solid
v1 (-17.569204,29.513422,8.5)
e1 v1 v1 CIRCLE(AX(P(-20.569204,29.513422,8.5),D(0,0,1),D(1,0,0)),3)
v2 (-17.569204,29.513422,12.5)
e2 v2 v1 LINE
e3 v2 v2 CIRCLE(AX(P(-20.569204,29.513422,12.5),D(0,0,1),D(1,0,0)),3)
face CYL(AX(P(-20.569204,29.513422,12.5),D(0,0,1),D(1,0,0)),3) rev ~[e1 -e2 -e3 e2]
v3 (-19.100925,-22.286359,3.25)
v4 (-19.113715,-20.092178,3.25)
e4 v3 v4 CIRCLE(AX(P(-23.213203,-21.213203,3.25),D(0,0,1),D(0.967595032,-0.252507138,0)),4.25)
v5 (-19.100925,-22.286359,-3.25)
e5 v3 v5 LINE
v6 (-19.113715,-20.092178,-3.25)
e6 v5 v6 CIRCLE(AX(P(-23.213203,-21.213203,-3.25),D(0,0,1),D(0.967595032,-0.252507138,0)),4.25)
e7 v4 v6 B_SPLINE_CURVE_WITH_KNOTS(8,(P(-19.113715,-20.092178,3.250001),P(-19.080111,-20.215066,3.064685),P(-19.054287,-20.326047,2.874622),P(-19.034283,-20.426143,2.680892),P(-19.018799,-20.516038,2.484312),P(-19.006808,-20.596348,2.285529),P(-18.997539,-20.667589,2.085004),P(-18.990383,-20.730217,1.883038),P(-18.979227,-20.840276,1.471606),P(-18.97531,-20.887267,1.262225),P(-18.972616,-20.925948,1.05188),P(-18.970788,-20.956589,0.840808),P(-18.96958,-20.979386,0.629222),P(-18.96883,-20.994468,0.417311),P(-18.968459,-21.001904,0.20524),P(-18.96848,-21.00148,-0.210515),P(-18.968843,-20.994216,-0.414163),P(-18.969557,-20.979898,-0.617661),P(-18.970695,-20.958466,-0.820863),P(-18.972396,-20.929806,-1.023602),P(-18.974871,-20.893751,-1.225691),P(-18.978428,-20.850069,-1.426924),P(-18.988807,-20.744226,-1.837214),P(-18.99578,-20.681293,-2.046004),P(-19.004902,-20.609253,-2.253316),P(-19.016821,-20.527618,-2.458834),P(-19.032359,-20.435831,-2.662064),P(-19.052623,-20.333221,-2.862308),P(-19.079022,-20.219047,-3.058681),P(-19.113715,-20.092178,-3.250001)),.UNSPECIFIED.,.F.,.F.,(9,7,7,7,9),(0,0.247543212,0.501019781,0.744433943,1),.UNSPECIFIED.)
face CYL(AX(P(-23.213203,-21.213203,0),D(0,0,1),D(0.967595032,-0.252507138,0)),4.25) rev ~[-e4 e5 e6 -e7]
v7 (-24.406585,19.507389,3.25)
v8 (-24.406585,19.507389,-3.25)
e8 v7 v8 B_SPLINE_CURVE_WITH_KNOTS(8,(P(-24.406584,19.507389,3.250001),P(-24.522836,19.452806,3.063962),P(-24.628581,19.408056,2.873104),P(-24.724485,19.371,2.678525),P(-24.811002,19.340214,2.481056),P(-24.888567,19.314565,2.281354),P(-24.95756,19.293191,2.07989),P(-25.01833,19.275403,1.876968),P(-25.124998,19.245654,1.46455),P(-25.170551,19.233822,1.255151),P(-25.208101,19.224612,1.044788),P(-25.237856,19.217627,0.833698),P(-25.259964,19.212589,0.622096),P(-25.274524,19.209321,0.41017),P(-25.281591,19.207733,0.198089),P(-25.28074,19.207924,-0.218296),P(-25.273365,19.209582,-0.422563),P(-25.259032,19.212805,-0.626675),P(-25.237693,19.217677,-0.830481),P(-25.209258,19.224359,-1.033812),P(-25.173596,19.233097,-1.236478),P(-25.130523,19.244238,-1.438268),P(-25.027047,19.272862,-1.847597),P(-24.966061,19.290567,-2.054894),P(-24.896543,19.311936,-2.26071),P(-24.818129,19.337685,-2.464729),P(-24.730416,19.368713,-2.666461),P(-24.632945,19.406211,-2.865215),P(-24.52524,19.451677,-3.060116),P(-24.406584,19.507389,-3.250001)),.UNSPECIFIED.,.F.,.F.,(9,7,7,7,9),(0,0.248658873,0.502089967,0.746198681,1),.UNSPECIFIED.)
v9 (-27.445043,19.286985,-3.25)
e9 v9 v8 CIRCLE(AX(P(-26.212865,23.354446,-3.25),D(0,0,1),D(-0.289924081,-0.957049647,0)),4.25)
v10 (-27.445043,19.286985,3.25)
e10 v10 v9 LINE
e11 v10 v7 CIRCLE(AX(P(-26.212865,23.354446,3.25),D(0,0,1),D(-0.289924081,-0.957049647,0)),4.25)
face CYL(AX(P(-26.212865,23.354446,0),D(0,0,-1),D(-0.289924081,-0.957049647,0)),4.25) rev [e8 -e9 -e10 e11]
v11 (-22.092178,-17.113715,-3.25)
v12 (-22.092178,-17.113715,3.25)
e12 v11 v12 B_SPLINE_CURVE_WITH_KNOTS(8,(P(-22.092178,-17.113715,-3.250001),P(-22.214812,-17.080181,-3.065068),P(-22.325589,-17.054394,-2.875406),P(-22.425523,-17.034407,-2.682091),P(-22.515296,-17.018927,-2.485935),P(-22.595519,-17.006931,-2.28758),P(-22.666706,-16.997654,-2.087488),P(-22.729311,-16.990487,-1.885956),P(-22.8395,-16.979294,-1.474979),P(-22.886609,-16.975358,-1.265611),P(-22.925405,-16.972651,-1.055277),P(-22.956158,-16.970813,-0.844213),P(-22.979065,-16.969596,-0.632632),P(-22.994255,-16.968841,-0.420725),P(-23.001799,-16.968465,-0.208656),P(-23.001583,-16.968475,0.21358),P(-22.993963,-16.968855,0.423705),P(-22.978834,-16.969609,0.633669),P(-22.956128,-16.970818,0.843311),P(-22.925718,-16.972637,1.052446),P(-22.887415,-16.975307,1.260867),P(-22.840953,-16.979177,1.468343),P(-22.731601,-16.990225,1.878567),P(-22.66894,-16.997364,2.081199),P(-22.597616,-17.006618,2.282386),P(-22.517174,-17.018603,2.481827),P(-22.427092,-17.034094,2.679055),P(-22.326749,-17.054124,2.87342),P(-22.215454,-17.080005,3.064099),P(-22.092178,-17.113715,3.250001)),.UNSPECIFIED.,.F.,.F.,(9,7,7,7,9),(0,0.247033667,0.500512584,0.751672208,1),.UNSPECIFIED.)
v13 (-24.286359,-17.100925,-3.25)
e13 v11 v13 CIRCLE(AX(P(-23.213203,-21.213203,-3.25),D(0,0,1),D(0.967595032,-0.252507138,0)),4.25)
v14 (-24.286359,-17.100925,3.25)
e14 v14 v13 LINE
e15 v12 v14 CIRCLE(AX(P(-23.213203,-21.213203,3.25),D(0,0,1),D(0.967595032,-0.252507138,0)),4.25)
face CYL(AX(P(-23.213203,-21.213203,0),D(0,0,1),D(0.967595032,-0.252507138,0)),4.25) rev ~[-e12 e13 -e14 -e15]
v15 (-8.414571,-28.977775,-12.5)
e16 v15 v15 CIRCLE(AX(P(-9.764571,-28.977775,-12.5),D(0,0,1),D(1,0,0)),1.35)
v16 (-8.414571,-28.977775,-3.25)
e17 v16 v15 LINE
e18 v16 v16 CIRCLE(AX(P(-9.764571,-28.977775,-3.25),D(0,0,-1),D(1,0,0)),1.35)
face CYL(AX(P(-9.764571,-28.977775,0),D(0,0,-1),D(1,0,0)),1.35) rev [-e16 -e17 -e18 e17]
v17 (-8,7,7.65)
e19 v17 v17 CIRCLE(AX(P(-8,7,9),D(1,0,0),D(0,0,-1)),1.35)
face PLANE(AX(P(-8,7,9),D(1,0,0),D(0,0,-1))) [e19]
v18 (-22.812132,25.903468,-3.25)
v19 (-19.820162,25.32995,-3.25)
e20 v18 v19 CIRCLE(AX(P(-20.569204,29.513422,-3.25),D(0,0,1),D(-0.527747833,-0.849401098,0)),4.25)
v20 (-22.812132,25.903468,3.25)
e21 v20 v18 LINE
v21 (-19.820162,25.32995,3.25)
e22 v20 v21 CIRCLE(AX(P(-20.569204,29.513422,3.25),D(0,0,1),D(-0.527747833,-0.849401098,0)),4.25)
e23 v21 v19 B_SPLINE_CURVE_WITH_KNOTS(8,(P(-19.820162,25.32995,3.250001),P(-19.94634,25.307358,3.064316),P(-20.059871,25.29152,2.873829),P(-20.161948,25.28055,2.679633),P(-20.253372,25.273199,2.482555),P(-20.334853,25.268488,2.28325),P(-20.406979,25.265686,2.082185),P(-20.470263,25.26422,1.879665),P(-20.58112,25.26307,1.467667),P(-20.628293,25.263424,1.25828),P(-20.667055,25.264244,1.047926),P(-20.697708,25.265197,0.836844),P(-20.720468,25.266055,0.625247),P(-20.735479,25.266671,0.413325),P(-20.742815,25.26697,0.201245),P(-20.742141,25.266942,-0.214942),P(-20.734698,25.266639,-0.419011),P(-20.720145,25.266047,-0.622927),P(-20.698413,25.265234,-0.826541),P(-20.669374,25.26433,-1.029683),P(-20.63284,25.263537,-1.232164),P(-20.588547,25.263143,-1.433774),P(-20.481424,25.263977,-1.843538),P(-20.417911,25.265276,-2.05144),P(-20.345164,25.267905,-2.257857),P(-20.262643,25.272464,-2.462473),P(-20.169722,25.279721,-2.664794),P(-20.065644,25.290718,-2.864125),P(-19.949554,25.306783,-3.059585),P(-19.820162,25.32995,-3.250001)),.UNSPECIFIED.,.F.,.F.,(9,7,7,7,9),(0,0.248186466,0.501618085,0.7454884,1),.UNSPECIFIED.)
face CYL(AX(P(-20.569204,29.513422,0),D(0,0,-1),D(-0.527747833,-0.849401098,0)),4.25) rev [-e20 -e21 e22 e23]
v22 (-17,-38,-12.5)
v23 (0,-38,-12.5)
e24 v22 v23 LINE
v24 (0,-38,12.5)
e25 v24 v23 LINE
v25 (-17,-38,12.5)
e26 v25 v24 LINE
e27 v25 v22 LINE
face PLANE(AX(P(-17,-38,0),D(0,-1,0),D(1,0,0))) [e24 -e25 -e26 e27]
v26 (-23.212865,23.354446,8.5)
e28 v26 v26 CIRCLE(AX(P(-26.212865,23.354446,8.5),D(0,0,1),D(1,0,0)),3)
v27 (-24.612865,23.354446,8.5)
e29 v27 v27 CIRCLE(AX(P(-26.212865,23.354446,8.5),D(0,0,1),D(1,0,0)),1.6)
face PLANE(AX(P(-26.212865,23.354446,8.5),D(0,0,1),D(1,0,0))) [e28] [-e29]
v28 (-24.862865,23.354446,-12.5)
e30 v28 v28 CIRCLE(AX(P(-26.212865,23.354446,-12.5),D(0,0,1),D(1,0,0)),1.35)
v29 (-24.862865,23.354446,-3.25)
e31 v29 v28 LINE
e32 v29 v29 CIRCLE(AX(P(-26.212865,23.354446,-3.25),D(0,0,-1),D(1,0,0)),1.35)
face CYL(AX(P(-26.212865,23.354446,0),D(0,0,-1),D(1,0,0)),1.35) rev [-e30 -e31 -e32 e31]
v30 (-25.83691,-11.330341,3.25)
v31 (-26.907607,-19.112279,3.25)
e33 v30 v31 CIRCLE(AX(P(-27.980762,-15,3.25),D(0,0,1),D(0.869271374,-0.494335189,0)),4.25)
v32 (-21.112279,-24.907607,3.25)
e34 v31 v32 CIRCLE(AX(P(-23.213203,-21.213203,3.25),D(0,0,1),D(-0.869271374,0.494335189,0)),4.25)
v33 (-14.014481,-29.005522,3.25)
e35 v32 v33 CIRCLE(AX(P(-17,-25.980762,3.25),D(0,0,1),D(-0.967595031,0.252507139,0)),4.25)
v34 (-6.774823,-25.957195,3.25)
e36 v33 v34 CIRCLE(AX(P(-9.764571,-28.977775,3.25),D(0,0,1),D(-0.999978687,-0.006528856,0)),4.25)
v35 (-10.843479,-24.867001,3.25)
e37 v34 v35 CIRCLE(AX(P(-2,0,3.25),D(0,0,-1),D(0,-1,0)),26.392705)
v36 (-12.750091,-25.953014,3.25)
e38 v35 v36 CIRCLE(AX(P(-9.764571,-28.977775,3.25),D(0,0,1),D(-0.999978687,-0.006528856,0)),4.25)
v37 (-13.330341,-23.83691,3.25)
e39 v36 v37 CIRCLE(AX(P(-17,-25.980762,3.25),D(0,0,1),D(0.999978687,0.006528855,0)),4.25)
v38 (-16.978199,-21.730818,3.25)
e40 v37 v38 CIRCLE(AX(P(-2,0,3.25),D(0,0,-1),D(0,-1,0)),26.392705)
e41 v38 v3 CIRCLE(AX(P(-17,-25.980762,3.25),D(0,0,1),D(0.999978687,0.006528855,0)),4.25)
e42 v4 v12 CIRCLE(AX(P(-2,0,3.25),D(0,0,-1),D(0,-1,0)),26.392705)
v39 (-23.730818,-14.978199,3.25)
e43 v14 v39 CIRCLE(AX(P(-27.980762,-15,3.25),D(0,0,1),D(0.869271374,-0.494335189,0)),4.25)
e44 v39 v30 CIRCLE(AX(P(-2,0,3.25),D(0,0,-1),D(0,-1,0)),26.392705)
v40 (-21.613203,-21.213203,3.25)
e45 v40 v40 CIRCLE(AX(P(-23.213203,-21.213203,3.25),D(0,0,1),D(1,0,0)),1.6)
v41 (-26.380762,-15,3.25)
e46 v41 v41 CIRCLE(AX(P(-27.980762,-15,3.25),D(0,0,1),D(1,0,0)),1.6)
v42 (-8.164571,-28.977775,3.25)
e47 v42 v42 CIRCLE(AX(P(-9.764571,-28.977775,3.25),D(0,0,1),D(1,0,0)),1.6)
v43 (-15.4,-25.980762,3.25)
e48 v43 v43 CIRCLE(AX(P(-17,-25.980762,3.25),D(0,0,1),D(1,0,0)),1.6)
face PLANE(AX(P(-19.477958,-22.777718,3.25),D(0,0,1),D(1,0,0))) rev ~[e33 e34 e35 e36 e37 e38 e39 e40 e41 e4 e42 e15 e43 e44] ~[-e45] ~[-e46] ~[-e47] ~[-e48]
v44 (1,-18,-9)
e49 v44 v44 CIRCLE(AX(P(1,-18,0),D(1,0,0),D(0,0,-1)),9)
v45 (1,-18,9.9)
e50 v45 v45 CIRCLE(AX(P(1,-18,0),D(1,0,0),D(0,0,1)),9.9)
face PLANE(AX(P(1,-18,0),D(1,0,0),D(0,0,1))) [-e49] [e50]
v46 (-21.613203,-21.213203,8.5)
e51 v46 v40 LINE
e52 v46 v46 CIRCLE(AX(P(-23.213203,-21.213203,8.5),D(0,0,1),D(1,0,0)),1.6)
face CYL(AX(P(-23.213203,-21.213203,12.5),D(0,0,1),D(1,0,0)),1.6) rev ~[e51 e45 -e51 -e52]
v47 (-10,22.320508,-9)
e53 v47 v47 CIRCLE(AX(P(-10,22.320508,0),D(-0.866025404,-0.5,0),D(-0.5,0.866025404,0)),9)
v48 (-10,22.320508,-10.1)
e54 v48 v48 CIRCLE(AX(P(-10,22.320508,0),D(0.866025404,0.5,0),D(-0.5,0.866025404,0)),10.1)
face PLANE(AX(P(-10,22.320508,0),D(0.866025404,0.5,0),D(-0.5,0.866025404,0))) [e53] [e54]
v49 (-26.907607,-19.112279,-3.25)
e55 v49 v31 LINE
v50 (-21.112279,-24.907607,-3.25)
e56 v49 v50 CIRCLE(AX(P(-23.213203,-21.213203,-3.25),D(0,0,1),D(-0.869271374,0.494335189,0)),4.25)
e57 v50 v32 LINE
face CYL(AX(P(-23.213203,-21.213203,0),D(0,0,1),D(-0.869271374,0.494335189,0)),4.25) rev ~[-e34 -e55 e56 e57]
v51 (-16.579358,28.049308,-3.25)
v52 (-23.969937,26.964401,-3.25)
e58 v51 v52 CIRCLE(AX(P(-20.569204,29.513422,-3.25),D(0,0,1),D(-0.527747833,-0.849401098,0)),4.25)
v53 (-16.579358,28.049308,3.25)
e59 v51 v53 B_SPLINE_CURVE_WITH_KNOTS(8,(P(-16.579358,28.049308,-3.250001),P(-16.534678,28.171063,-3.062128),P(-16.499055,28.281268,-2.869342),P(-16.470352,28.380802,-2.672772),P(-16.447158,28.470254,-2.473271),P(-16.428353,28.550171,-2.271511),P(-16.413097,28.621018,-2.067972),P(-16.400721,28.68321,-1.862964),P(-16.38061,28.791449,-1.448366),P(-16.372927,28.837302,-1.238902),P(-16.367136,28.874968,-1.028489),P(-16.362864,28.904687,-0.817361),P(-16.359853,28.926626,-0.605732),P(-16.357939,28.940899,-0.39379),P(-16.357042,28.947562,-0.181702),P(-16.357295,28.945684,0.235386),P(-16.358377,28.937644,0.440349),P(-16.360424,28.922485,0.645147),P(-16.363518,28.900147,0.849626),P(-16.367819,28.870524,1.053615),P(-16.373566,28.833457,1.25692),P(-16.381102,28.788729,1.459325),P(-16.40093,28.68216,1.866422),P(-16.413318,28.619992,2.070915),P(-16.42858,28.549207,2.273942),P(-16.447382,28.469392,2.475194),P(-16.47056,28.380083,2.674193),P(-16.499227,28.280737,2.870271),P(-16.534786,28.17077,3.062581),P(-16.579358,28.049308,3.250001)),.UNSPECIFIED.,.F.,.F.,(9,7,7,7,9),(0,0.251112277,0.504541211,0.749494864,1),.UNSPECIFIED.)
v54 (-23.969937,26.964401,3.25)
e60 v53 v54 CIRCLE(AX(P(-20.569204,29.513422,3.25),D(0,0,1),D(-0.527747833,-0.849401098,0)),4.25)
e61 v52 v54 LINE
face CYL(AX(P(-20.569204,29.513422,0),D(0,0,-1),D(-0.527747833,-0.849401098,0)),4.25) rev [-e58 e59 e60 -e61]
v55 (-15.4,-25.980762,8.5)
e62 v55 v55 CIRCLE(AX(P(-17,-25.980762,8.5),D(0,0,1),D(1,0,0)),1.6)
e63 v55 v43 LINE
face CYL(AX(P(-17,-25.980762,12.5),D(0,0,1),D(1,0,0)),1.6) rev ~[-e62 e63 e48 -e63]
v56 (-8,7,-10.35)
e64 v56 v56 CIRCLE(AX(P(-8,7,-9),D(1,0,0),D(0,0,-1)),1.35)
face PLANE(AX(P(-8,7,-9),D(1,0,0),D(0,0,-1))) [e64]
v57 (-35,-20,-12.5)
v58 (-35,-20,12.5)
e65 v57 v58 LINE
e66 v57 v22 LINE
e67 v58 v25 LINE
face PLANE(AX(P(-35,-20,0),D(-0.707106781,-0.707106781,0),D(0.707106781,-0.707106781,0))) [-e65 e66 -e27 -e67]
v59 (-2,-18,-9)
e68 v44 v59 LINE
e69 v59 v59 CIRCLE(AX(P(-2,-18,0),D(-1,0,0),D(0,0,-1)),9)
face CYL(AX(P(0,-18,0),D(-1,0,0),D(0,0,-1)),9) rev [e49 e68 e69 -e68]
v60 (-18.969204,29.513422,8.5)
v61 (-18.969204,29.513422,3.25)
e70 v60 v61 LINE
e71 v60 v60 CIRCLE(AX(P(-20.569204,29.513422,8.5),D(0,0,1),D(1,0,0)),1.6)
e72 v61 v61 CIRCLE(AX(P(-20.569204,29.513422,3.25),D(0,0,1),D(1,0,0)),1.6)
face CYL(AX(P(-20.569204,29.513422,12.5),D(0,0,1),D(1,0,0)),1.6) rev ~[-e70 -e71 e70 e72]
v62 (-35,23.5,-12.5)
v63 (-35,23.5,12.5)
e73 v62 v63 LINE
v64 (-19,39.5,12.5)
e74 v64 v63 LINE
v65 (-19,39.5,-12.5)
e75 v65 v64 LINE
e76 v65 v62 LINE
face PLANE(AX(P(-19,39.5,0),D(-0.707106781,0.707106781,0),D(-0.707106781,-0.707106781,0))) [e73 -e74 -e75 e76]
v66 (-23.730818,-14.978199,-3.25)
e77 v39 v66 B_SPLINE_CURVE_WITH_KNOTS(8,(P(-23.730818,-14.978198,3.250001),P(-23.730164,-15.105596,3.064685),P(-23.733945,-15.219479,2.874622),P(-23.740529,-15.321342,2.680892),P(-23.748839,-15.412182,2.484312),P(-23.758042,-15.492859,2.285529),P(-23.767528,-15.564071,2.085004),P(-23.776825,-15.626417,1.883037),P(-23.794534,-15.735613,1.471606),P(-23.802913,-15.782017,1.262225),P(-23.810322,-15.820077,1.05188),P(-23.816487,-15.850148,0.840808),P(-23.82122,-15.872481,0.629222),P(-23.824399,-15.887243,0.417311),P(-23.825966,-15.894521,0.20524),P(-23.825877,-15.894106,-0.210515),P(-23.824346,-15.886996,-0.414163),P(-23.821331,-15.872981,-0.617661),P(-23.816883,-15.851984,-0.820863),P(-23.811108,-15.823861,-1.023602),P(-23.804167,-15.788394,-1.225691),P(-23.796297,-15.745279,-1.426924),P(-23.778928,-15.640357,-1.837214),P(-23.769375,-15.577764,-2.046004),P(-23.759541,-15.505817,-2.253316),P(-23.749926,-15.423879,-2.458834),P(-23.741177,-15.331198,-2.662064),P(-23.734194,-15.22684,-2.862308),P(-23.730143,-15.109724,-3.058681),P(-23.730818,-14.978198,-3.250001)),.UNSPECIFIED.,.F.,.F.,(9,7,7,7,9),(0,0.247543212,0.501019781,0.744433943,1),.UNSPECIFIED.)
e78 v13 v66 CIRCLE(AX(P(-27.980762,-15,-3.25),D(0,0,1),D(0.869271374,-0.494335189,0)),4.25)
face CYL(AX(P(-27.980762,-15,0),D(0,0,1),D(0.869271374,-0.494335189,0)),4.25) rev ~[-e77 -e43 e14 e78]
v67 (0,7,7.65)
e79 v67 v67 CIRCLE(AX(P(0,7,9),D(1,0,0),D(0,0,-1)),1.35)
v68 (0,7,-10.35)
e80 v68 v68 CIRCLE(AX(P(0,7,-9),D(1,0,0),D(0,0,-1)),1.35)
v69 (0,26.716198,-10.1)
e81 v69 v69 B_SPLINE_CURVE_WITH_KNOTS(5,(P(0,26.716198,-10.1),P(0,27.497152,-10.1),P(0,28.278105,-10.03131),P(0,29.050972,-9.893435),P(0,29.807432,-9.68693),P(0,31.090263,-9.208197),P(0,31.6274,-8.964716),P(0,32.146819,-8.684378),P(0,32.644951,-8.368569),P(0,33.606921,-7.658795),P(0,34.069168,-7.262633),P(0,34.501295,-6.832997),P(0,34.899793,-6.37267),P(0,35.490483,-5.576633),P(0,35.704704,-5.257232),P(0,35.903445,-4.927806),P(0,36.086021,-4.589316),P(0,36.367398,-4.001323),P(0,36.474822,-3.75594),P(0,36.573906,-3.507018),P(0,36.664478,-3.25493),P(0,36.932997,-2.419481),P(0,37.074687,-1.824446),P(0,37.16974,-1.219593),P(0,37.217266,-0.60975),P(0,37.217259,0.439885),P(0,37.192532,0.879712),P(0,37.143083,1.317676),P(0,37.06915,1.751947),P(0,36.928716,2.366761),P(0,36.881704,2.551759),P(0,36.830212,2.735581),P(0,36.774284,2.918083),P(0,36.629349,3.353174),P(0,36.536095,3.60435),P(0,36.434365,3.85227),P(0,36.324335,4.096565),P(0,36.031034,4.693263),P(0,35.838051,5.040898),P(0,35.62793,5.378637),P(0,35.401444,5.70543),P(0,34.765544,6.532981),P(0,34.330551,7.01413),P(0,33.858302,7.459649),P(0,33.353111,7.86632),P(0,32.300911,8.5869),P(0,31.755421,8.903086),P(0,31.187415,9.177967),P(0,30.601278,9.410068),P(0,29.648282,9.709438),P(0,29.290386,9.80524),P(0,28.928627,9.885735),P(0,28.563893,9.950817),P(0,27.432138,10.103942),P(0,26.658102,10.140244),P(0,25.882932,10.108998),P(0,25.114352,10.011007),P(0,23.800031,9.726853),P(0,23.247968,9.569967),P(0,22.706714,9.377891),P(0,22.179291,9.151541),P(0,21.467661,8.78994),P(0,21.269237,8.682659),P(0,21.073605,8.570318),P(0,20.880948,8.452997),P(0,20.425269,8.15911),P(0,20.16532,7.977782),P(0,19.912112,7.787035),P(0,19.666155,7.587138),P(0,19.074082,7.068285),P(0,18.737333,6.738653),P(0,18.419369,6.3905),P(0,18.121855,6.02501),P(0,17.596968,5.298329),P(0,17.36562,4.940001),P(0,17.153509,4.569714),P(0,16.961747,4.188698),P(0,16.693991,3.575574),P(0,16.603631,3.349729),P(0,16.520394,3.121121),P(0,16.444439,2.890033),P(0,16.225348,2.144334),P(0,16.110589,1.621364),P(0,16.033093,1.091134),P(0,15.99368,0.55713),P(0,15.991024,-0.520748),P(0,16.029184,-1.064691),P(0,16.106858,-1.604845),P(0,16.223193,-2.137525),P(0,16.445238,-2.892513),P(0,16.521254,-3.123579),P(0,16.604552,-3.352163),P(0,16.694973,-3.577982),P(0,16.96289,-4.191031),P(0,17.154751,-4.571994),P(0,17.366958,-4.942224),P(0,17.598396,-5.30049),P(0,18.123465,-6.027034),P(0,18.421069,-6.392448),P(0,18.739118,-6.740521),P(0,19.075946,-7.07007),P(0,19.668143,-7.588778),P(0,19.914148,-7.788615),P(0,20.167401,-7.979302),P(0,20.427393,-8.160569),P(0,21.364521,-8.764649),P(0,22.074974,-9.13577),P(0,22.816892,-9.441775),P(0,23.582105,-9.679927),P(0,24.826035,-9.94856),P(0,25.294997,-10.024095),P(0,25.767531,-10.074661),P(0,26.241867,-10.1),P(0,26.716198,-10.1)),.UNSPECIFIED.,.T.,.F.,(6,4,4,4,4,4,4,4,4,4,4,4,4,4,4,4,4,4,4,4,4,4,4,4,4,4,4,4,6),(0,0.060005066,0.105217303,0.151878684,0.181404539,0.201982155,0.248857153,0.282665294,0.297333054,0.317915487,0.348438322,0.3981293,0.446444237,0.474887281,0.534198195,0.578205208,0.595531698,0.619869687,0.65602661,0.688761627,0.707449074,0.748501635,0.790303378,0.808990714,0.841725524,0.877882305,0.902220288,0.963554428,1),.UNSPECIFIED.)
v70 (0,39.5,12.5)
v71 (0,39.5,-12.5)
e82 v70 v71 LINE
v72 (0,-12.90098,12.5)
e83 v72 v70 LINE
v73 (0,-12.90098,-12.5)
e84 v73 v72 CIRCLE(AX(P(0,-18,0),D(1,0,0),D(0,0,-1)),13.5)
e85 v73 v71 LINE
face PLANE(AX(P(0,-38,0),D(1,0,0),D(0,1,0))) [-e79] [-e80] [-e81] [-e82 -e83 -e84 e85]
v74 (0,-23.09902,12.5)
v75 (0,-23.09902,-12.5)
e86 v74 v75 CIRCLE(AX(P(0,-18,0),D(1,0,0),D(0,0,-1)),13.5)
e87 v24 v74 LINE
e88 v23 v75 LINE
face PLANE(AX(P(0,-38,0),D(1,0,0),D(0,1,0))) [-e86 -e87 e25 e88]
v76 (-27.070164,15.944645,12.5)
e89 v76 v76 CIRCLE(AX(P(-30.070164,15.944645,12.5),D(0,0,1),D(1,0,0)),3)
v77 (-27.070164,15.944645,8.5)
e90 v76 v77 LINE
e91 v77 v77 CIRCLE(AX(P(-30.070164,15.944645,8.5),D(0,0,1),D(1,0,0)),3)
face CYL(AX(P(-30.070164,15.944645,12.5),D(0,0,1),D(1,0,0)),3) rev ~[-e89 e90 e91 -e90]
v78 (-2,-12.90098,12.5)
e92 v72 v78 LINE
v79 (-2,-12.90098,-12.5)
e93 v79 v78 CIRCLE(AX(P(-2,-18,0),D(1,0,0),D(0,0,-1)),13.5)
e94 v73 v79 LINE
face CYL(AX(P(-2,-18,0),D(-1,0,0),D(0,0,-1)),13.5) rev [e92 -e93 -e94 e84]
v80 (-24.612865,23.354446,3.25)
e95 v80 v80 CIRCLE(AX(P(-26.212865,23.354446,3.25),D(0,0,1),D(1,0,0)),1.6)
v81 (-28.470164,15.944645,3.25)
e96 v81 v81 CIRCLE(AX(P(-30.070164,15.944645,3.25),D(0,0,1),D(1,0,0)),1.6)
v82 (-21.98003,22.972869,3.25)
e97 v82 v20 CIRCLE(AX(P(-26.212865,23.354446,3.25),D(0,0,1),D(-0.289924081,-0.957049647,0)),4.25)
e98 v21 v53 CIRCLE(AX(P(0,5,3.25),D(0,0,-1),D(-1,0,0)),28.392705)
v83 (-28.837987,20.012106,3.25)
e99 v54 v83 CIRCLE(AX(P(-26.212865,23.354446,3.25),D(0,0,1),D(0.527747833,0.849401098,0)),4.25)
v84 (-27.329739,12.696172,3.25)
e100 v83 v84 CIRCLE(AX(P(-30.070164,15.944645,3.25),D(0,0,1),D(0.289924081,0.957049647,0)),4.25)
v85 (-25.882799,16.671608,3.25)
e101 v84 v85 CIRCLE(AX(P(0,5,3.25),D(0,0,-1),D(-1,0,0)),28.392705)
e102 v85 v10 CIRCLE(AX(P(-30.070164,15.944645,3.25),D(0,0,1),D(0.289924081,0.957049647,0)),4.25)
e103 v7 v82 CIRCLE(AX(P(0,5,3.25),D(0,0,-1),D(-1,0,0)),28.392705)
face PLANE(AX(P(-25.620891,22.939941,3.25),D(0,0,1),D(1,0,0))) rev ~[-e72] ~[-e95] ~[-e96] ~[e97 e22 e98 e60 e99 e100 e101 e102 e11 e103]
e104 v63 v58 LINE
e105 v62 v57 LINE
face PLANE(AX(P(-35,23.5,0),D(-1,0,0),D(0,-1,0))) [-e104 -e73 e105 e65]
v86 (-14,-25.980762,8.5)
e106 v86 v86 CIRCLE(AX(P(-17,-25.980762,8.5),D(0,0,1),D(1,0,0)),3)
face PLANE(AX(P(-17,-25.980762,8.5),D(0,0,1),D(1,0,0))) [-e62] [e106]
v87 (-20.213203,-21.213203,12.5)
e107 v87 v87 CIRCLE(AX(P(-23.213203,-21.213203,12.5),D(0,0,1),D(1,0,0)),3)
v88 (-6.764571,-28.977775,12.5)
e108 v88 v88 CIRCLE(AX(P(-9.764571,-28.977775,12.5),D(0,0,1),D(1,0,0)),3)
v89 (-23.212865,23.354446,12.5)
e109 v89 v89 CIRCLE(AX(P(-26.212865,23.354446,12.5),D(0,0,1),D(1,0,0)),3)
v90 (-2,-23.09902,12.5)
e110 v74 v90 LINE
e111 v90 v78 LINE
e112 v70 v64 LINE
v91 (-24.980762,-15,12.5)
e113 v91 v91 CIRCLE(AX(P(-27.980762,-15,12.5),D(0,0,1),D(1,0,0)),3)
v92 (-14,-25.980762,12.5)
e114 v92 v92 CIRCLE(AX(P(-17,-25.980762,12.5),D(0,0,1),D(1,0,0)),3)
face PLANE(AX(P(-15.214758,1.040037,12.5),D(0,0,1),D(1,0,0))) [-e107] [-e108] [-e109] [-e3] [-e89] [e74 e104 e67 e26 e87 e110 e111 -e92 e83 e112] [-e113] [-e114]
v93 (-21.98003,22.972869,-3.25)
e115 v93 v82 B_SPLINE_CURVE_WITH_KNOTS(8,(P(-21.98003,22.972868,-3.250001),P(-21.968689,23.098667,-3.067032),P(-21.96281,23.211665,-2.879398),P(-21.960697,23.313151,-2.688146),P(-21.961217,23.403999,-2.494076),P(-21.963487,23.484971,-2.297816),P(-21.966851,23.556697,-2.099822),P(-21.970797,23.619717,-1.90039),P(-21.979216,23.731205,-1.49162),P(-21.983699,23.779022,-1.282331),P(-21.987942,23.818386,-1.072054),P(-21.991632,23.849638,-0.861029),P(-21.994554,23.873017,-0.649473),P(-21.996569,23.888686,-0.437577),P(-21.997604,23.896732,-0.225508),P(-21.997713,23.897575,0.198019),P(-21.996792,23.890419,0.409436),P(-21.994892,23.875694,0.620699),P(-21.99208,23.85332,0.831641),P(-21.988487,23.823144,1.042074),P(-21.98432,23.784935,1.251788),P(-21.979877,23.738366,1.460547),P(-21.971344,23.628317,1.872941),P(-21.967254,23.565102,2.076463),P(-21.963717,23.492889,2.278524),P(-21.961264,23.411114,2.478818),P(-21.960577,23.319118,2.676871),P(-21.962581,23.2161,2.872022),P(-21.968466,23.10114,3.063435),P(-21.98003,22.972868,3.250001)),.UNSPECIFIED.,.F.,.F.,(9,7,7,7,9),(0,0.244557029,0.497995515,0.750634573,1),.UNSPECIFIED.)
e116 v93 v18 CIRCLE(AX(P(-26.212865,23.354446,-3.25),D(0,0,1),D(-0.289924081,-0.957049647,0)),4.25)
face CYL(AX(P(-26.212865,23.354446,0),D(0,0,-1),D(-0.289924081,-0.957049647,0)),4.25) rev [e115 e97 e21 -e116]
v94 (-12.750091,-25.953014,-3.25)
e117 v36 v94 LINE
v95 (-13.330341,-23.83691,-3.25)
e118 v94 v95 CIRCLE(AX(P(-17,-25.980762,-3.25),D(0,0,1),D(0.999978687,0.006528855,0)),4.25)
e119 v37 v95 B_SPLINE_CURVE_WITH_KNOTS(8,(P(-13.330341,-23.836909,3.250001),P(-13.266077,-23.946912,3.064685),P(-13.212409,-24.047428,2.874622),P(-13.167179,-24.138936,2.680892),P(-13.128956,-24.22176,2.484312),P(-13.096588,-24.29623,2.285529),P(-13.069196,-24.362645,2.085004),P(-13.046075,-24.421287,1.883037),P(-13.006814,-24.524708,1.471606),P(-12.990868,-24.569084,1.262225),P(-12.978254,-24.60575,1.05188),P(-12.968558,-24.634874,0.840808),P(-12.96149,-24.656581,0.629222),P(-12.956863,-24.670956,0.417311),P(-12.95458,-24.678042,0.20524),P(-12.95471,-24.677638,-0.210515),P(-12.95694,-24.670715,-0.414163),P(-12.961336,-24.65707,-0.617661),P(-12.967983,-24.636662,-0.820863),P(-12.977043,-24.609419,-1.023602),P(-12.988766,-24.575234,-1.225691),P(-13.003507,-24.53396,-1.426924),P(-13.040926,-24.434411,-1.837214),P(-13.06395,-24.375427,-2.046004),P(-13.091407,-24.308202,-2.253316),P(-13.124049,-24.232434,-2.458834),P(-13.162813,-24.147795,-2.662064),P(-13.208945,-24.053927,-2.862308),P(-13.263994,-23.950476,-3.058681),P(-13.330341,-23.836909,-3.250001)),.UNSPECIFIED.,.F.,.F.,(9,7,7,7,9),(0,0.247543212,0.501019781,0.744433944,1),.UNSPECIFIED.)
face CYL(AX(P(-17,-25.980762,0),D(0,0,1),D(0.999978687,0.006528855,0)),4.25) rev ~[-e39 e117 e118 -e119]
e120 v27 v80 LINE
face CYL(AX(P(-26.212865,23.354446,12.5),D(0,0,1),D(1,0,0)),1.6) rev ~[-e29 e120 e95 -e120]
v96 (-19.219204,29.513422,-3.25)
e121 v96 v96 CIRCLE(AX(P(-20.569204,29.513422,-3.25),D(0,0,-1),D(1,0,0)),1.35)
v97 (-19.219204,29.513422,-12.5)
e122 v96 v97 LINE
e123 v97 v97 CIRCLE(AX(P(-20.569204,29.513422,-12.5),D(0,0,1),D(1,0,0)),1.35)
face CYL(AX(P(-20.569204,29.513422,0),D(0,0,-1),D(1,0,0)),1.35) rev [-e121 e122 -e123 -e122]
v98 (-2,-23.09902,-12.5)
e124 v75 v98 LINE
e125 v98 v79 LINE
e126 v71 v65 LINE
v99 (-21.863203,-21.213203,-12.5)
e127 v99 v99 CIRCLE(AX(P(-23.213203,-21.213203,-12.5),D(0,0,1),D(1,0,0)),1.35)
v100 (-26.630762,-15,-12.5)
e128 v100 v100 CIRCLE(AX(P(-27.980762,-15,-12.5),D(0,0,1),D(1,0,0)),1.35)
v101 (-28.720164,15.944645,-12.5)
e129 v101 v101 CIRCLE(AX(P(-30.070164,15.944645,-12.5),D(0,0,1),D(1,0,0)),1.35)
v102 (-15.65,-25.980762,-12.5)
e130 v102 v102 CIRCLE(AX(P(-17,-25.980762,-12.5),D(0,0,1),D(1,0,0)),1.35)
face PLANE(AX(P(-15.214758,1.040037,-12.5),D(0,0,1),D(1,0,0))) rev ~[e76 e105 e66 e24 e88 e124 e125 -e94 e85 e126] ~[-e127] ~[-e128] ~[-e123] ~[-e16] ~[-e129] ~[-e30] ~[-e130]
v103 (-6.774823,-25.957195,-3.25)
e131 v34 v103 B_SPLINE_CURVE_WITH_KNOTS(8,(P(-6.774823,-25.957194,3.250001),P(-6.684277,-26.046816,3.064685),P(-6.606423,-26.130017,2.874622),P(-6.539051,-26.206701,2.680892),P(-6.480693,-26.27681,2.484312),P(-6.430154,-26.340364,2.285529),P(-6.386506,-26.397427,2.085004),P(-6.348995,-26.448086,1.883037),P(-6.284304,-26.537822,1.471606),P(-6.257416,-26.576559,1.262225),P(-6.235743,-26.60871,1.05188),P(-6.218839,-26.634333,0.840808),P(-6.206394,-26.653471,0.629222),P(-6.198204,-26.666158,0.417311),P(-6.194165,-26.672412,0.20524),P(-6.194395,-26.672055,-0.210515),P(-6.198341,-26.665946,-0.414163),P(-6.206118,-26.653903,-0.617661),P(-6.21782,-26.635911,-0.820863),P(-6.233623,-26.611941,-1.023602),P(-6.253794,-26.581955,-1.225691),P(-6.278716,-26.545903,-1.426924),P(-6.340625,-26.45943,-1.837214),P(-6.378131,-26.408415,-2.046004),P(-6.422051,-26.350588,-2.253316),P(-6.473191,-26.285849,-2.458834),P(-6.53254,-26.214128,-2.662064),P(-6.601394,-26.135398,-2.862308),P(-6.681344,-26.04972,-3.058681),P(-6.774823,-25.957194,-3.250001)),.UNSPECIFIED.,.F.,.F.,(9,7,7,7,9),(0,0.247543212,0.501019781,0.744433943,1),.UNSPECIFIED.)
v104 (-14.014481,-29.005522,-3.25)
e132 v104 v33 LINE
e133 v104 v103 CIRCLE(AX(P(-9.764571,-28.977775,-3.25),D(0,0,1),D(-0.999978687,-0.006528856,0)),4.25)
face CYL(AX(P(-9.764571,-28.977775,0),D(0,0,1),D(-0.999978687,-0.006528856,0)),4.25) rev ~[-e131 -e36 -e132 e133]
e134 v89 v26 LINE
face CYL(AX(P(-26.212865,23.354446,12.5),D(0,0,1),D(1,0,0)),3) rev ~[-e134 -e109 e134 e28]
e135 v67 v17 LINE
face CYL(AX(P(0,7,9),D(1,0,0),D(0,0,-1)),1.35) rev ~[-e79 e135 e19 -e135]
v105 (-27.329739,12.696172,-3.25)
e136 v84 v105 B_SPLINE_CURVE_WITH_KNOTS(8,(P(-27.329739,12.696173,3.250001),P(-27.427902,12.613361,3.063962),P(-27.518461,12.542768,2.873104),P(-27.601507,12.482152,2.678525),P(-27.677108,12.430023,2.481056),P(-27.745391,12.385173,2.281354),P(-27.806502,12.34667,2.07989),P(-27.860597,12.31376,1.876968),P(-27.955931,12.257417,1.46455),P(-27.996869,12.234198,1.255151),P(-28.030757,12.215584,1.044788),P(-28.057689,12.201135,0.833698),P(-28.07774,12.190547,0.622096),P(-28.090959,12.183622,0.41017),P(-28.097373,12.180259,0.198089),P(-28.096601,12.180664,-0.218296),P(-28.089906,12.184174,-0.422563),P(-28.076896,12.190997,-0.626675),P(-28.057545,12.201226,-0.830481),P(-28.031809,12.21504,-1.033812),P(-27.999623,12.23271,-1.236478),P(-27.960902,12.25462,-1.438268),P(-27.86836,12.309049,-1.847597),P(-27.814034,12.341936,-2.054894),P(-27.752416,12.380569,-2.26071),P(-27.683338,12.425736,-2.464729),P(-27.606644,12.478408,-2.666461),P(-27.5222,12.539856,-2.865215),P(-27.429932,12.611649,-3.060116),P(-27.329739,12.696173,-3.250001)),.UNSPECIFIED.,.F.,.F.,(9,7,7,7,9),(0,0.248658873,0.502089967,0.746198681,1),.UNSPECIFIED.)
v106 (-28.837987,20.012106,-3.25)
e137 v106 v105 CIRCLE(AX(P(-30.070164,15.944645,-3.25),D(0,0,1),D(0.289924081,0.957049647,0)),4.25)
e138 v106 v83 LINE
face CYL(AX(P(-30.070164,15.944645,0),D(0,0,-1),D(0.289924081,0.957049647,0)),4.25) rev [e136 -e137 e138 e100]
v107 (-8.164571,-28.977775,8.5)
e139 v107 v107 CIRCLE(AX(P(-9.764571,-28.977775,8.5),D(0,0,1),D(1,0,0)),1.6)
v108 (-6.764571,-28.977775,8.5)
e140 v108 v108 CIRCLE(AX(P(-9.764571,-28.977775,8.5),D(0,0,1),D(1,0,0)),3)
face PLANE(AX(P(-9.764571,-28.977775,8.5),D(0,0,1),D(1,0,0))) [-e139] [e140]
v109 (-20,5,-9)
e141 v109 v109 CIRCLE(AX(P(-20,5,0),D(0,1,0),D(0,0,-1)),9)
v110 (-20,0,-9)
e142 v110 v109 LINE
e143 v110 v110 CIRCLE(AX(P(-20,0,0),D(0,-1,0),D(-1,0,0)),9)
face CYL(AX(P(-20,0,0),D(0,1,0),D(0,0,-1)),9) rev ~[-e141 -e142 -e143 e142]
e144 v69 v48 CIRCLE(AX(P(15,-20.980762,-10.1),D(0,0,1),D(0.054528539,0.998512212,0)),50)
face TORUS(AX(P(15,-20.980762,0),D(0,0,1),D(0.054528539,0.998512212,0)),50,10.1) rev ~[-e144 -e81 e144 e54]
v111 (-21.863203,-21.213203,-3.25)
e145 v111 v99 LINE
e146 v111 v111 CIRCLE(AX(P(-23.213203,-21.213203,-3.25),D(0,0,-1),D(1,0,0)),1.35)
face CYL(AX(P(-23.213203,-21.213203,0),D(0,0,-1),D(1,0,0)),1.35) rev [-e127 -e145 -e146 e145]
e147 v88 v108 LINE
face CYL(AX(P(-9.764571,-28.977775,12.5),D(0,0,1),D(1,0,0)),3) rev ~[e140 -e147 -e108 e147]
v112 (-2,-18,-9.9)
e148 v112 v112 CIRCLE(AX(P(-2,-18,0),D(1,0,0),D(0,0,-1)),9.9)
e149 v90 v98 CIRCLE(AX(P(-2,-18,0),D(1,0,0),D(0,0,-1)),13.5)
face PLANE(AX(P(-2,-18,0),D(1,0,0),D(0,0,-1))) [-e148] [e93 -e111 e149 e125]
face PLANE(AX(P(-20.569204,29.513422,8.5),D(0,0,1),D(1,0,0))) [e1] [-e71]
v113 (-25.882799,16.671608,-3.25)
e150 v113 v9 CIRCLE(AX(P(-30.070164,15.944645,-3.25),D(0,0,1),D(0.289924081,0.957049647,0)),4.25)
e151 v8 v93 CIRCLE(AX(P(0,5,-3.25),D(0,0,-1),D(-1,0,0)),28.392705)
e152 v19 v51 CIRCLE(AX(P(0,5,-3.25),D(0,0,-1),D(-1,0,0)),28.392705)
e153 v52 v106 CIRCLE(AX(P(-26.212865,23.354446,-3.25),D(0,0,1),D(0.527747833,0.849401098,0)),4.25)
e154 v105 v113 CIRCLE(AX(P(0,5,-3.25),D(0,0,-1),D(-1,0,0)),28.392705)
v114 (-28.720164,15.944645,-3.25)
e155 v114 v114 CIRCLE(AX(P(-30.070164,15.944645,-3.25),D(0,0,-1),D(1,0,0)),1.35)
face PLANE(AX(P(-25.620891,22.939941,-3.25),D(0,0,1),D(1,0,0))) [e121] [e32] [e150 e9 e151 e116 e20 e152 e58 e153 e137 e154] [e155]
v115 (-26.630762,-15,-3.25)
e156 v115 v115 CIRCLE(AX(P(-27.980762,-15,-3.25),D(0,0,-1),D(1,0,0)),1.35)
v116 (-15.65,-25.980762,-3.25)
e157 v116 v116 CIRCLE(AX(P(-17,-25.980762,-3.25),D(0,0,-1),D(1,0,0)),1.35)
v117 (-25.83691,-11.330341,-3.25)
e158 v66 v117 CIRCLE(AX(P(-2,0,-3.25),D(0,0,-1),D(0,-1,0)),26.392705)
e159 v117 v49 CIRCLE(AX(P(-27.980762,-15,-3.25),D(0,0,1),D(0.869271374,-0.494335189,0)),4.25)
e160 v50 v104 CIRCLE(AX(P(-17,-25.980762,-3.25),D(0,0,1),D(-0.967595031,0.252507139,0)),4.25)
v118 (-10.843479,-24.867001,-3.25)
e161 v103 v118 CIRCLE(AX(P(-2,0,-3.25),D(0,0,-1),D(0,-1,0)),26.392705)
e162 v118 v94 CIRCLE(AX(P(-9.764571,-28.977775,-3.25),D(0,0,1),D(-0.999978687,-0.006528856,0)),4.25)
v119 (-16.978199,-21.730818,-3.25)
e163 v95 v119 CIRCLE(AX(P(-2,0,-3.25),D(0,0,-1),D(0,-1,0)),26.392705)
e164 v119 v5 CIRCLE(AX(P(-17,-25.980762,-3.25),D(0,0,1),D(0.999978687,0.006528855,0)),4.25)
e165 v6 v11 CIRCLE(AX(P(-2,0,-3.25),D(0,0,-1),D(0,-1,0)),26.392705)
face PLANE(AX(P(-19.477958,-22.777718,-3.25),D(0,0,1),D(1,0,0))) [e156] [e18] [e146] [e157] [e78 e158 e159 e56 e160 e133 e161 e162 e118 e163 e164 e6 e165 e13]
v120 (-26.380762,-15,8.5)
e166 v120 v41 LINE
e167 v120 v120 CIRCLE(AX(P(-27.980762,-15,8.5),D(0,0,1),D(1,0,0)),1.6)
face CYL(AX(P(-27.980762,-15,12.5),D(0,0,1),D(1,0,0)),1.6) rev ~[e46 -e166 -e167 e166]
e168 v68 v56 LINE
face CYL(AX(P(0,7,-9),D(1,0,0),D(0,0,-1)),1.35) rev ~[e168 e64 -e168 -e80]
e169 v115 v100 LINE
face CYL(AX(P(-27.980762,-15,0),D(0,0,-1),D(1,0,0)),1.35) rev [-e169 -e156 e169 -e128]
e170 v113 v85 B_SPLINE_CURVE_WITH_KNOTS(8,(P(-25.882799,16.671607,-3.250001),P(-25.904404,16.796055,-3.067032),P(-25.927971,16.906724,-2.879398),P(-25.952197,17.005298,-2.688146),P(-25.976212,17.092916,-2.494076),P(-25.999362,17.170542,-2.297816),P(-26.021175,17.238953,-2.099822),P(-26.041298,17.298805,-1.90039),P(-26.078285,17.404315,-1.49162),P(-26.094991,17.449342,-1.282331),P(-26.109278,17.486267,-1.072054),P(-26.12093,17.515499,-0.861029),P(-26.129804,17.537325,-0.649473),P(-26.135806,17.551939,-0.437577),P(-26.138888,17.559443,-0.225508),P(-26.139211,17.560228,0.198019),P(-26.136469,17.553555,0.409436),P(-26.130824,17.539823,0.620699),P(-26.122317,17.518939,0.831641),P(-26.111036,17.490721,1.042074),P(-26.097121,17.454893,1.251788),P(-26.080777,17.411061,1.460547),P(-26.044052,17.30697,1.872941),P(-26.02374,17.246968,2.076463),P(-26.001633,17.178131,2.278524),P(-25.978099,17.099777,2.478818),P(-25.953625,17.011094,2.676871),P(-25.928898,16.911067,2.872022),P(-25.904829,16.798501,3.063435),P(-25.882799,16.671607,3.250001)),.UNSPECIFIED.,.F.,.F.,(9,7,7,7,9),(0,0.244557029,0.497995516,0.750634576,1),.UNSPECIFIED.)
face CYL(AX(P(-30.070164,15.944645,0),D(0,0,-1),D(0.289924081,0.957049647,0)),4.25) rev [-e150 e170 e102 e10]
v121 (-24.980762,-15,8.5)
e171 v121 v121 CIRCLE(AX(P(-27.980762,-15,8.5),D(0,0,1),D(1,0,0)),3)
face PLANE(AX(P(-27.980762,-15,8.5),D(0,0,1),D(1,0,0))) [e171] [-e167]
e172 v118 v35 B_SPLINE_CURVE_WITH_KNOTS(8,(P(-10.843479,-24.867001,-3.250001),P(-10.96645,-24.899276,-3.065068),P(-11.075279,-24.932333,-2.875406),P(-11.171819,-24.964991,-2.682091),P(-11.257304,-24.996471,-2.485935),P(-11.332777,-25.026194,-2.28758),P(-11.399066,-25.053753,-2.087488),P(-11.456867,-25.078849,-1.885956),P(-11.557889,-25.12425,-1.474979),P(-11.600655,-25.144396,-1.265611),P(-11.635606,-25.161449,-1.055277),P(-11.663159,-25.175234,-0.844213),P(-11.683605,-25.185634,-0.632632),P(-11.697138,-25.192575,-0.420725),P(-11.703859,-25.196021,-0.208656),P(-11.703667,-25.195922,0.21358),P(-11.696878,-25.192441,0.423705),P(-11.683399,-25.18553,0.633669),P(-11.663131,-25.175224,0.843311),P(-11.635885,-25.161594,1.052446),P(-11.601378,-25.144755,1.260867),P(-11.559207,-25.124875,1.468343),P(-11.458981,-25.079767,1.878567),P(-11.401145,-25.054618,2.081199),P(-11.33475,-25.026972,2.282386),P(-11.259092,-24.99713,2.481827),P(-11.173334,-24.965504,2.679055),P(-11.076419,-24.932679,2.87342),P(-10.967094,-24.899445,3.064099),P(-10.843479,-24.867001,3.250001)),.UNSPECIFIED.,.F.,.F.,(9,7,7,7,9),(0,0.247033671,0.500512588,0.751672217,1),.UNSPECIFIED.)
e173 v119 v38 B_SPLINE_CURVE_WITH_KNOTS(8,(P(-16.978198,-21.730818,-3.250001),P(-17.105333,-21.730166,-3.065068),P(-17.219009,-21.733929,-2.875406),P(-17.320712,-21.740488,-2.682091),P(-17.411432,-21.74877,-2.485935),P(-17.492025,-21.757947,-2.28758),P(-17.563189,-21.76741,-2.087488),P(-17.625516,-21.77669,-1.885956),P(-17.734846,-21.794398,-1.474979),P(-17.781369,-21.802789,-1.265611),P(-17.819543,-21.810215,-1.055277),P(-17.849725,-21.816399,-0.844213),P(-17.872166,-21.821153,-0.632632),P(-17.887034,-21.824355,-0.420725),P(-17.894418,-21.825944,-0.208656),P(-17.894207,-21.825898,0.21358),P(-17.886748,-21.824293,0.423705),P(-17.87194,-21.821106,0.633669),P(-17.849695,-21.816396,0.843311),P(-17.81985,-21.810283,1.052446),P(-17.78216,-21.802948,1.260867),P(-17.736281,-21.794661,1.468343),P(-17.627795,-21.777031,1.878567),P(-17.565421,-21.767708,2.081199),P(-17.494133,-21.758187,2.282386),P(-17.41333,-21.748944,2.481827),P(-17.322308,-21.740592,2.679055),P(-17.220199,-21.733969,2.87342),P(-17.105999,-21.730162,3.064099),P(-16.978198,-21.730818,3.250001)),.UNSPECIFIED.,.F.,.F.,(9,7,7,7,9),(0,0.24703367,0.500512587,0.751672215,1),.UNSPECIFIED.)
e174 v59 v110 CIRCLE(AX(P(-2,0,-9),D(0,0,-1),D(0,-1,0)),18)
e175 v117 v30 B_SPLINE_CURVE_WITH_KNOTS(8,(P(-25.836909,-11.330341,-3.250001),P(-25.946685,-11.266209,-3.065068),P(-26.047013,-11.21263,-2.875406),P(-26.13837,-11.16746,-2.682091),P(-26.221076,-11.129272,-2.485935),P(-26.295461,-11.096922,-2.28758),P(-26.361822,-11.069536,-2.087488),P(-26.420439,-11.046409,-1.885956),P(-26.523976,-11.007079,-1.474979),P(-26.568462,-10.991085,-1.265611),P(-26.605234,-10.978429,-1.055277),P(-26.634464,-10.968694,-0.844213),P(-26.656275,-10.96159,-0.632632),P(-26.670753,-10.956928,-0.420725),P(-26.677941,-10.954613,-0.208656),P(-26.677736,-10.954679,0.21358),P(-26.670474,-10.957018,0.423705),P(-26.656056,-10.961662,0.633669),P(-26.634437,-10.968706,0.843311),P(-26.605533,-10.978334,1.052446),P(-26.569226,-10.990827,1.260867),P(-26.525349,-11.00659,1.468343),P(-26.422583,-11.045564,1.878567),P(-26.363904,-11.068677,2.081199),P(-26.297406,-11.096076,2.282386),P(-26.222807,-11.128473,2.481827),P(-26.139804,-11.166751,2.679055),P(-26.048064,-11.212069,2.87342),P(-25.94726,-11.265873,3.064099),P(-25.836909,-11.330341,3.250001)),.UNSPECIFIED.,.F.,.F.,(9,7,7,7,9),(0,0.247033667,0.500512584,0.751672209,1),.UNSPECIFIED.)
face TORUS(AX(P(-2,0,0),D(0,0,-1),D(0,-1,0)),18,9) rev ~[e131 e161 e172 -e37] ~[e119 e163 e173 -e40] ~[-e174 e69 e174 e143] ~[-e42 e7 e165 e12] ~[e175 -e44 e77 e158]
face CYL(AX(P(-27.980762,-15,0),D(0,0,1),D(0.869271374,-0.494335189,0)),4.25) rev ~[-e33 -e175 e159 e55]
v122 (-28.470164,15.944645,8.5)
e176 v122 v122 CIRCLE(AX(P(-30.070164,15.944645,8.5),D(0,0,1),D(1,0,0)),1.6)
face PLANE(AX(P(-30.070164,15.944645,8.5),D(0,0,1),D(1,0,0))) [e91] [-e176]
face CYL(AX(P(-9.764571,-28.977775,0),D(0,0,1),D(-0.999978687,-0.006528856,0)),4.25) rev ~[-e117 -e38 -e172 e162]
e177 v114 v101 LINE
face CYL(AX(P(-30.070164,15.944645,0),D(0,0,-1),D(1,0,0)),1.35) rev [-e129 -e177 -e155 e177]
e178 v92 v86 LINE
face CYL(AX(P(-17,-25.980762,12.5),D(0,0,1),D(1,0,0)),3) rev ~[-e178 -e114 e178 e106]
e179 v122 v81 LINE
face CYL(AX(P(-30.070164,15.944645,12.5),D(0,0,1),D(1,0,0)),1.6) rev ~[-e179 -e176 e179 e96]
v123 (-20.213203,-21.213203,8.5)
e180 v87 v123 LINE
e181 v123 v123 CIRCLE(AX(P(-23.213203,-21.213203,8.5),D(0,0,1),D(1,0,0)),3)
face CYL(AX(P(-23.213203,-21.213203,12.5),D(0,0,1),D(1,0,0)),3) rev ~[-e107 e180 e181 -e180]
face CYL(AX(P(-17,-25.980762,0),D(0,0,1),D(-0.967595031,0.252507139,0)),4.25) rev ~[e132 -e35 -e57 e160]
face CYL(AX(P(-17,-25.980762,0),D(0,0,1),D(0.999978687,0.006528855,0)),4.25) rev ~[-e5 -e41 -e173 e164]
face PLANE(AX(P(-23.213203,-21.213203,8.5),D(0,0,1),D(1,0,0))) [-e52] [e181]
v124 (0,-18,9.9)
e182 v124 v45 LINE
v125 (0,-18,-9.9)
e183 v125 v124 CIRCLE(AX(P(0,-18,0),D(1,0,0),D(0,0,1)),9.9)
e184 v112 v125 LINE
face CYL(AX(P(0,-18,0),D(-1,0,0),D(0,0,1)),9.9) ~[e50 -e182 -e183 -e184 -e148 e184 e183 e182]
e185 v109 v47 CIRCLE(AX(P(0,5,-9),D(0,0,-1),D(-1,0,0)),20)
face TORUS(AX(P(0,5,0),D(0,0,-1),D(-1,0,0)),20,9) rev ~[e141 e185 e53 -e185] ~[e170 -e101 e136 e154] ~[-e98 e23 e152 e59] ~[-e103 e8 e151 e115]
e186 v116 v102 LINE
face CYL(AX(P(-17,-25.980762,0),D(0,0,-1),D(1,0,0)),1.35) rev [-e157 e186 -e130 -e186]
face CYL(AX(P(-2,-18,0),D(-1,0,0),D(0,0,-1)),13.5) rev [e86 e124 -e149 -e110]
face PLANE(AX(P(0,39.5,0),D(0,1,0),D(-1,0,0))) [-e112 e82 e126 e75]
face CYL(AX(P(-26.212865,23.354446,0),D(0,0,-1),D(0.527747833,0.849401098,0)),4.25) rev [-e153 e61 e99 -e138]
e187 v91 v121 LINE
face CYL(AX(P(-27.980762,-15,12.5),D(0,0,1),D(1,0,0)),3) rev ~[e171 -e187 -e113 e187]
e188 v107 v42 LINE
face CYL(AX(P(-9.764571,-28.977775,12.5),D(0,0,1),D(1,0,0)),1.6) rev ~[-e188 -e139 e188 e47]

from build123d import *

# Parameters (mm, degrees)
SKETCH_1_R          = 1.35
EXTRUDE_1_DEPTH     = 12.5
SKETCH_3_R          = 9
SKETCH_4_R          = 9.9
SKETCH_4_R_2        = 9
EXTRUDE_2_DEPTH     = 1
CUT_EXTRUDE_START   = -2
SKETCH_5_R          = 13.5
SKETCH_5_R_2        = 9.9
CUT_EXTRUDE_1_DEPTH = 2
SKETCH_6_R          = 10.1
CUT_EXTRUDE_2_DEPTH = 3.25
SKETCH_10_R         = 1.35
CUT_EXTRUDE_3_DEPTH = 8
CUT_EXTRUDE_4_REACH = 60.397
SKETCH_11_R         = 1.6
SKETCH_12_R         = 3
CUT_EXTRUDE_5_DEPTH = 4


with BuildPart() as part:
    # 草图1 → 凸台-拉伸1 (new, symmetric)
    with BuildSketch(Plane.XY):
        Polygon((0, 0), (0, 39.5), (-19, 39.5), (-35, 23.5), (-35, -20), (-17, -38), (0, -38), align=None)
        with Locations((-27.980762114, -15)):
            Circle(SKETCH_1_R, mode=Mode.SUBTRACT)
        with Locations((-23.213203436, -21.213203436)):
            Circle(SKETCH_1_R, mode=Mode.SUBTRACT)
        with Locations((-17, -25.980762114)):
            Circle(SKETCH_1_R, mode=Mode.SUBTRACT)
        with Locations((-9.764571353, -28.977774789)):
            Circle(SKETCH_1_R, mode=Mode.SUBTRACT)
        with Locations((-30.070163865, 15.944644586)):
            Circle(SKETCH_1_R, mode=Mode.SUBTRACT)
        with Locations((-26.212865417, 23.354445963)):
            Circle(SKETCH_1_R, mode=Mode.SUBTRACT)
        with Locations((-20.56920351, 29.51342218)):
            Circle(SKETCH_1_R, mode=Mode.SUBTRACT)
    extrude(amount=EXTRUDE_1_DEPTH, both=True)

    # 切除-扫描1: sweep along a path in 草图2
    with BuildLine(Plane.XY) as sweep_1_path:
        Line((0, -18), (-2, -18))
        ThreePointArc((-2, -18), (-14.727922061, -12.727922061), (-20, 0))
        Line((-20, 0), (-20, 5))
        ThreePointArc((-20, 5), (-17.320508076, 15), (-10, 22.320508076))
        ThreePointArc((-10, 22.320508076), (3.381115126, 27.650519119), (17.726426944, 28.94484851))
    # 草图3 → 切除-扫描1 (sweep, cut)
    with BuildSketch(Plane(origin=(0, 0, 0), x_dir=(0, 0, -1), z_dir=(1, 0, 0))):
        with Locations((0, -18)):
            Circle(SKETCH_3_R)
    sweep(path=sweep_1_path.line, mode=Mode.SUBTRACT)

    # 草图4 → 凸台-拉伸2 (add)
    with BuildSketch(Plane(origin=(0, 0, 0), x_dir=(0, 0, -1), z_dir=(1, 0, 0))):
        with Locations(Location((0, -18, 0), (0, 0, 180))):
            Circle(SKETCH_4_R)
        with Locations((0, -18)):
            Circle(SKETCH_4_R_2, mode=Mode.SUBTRACT)
    extrude(amount=EXTRUDE_2_DEPTH)

    # 草图5 → 切除-拉伸1 (cut)
    with BuildSketch(Plane(origin=(0, 0, 0), x_dir=(0, 0, -1), z_dir=(1, 0, 0)).offset(CUT_EXTRUDE_START)):
        with Locations((0, -18)):
            Circle(SKETCH_5_R)
        with Locations((0, -18)):
            Circle(SKETCH_5_R_2, mode=Mode.SUBTRACT)
    extrude(amount=CUT_EXTRUDE_1_DEPTH, mode=Mode.SUBTRACT)

    # 切除-扫描4: sweep along a path in 草图7
    with BuildLine(Plane.XY) as sweep_4_path:
        ThreePointArc((17.726426944, 28.94484851), (3.381115126, 27.650519119), (-10, 22.320508076))
    # 草图6 → 切除-扫描4 (sweep, cut)
    with BuildSketch(Plane(origin=(2.165063509, 1.25, 0), x_dir=(0, 0, -1), z_dir=(0.8660254037844397, 0.4999999999999983, 0))):
        with Locations((0, 24.330127019)):
            Circle(SKETCH_6_R)
    sweep(path=sweep_4_path.line, mode=Mode.SUBTRACT)

    # 草图9 → 切除-拉伸2 (cut, symmetric)
    with BuildSketch(Plane.XY):
        with BuildLine():
            ThreePointArc((-22.812131801, 25.903467515), (-17.697945128, 32.646850861), (-23.969937126, 26.964400628))
            ThreePointArc((-23.969937126, 26.964400628), (-29.694261605, 25.792145818), (-28.837986521, 20.012105587))
            ThreePointArc((-28.837986521, 20.012105587), (-32.032595471, 12.174848545), (-27.445042761, 19.286984962))
            ThreePointArc((-27.445042761, 19.286984962), (-22.731469229, 20.916746109), (-22.812131801, 25.903467515))
        make_face()
        with BuildLine():
            ThreePointArc((-24.286358775, -17.100924552), (-30.567998187, -11.628248304), (-26.907606774, -19.112278884))
            ThreePointArc((-26.907606774, -19.112278884), (-26.218407256, -24.218407256), (-21.112278884, -24.907606774))
            ThreePointArc((-21.112278884, -24.907606774), (-19.125, -29.66137008), (-14.014480772, -29.005522425))
            ThreePointArc((-14.014480772, -29.005522425), (-5.83808334, -30.604179376), (-12.750090581, -25.953014478))
            ThreePointArc((-12.750090581, -25.953014478), (-14.875, -22.300154147), (-19.100924552, -22.286358775))
            ThreePointArc((-19.100924552, -22.286358775), (-20.207999616, -18.207999616), (-24.286358775, -17.100924552))
        make_face()
    extrude(amount=CUT_EXTRUDE_2_DEPTH, both=True, mode=Mode.SUBTRACT)

    # 草图10 → 切除-拉伸3 (cut)
    with BuildSketch(Plane(origin=(0, 0, 0), x_dir=(0, 0, -1), z_dir=(1, 0, 0))):
        with Locations((-9, 7)):
            Circle(SKETCH_10_R)
        with Locations((9, 7)):
            Circle(SKETCH_10_R)
    extrude(amount=-CUT_EXTRUDE_3_DEPTH, mode=Mode.SUBTRACT)

    # 草图11 → 切除-拉伸4 (cut, up to next)
    with BuildSketch(Plane.XY.offset(12.5), mode=Mode.PRIVATE) as cut_extrude_4_sk1:
        with Locations((-20.56920351, 29.51342218)):
            Circle(SKETCH_11_R)
    cut_extrude_4_tool1 = extrude(cut_extrude_4_sk1.sketch, amount=-CUT_EXTRUDE_4_REACH, mode=Mode.PRIVATE) & part.part
    # 草图11 → 切除-拉伸4 (cut, up to next)
    with BuildSketch(Plane.XY.offset(12.5), mode=Mode.PRIVATE) as cut_extrude_4_sk2:
        with Locations((-26.212865417, 23.354445963)):
            Circle(SKETCH_11_R)
    cut_extrude_4_tool2 = extrude(cut_extrude_4_sk2.sketch, amount=-CUT_EXTRUDE_4_REACH, mode=Mode.PRIVATE) & part.part
    # 草图11 → 切除-拉伸4 (cut, up to next)
    with BuildSketch(Plane.XY.offset(12.5), mode=Mode.PRIVATE) as cut_extrude_4_sk3:
        with Locations((-30.070163865, 15.944644586)):
            Circle(SKETCH_11_R)
    cut_extrude_4_tool3 = extrude(cut_extrude_4_sk3.sketch, amount=-CUT_EXTRUDE_4_REACH, mode=Mode.PRIVATE) & part.part
    # 草图11 → 切除-拉伸4 (cut, up to next)
    with BuildSketch(Plane.XY.offset(12.5), mode=Mode.PRIVATE) as cut_extrude_4_sk4:
        with Locations((-27.980762114, -15)):
            Circle(SKETCH_11_R)
    cut_extrude_4_tool4 = extrude(cut_extrude_4_sk4.sketch, amount=-CUT_EXTRUDE_4_REACH, mode=Mode.PRIVATE) & part.part
    # 草图11 → 切除-拉伸4 (cut, up to next)
    with BuildSketch(Plane.XY.offset(12.5), mode=Mode.PRIVATE) as cut_extrude_4_sk5:
        with Locations((-23.213203436, -21.213203436)):
            Circle(SKETCH_11_R)
    cut_extrude_4_tool5 = extrude(cut_extrude_4_sk5.sketch, amount=-CUT_EXTRUDE_4_REACH, mode=Mode.PRIVATE) & part.part
    # 草图11 → 切除-拉伸4 (cut, up to next)
    with BuildSketch(Plane.XY.offset(12.5), mode=Mode.PRIVATE) as cut_extrude_4_sk6:
        with Locations((-17, -25.980762114)):
            Circle(SKETCH_11_R)
    cut_extrude_4_tool6 = extrude(cut_extrude_4_sk6.sketch, amount=-CUT_EXTRUDE_4_REACH, mode=Mode.PRIVATE) & part.part
    # 草图11 → 切除-拉伸4 (cut, up to next)
    with BuildSketch(Plane.XY.offset(12.5), mode=Mode.PRIVATE) as cut_extrude_4_sk7:
        with Locations((-9.764571353, -28.977774789)):
            Circle(SKETCH_11_R)
    cut_extrude_4_tool7 = extrude(cut_extrude_4_sk7.sketch, amount=-CUT_EXTRUDE_4_REACH, mode=Mode.PRIVATE) & part.part
    add(cut_extrude_4_tool1.solids().sort_by_distance((-20.569204, 29.513422, 12.5))[0], mode=Mode.SUBTRACT)
    add(cut_extrude_4_tool2.solids().sort_by_distance((-26.212865, 23.354446, 12.5))[0], mode=Mode.SUBTRACT)
    add(cut_extrude_4_tool3.solids().sort_by_distance((-30.070164, 15.944645, 12.5))[0], mode=Mode.SUBTRACT)
    add(cut_extrude_4_tool4.solids().sort_by_distance((-27.980762, -15, 12.5))[0], mode=Mode.SUBTRACT)
    add(cut_extrude_4_tool5.solids().sort_by_distance((-23.213203, -21.213203, 12.5))[0], mode=Mode.SUBTRACT)
    add(cut_extrude_4_tool6.solids().sort_by_distance((-17, -25.980762, 12.5))[0], mode=Mode.SUBTRACT)
    add(cut_extrude_4_tool7.solids().sort_by_distance((-9.764571, -28.977775, 12.5))[0], mode=Mode.SUBTRACT)

    # 草图12 → 切除-拉伸5 (cut)
    with BuildSketch(Plane.XY.offset(12.5)):
        with Locations((-20.56920351, 29.51342218)):
            Circle(SKETCH_12_R)
        with Locations((-26.212865417, 23.354445963)):
            Circle(SKETCH_12_R)
        with Locations((-30.070163865, 15.944644586)):
            Circle(SKETCH_12_R)
        with Locations((-27.980762114, -15)):
            Circle(SKETCH_12_R)
        with Locations((-23.213203436, -21.213203436)):
            Circle(SKETCH_12_R)
        with Locations((-17, -25.980762114)):
            Circle(SKETCH_12_R)
        with Locations((-9.764571353, -28.977774789)):
            Circle(SKETCH_12_R)
    extrude(amount=-CUT_EXTRUDE_5_DEPTH, mode=Mode.SUBTRACT)


solid = part.part
